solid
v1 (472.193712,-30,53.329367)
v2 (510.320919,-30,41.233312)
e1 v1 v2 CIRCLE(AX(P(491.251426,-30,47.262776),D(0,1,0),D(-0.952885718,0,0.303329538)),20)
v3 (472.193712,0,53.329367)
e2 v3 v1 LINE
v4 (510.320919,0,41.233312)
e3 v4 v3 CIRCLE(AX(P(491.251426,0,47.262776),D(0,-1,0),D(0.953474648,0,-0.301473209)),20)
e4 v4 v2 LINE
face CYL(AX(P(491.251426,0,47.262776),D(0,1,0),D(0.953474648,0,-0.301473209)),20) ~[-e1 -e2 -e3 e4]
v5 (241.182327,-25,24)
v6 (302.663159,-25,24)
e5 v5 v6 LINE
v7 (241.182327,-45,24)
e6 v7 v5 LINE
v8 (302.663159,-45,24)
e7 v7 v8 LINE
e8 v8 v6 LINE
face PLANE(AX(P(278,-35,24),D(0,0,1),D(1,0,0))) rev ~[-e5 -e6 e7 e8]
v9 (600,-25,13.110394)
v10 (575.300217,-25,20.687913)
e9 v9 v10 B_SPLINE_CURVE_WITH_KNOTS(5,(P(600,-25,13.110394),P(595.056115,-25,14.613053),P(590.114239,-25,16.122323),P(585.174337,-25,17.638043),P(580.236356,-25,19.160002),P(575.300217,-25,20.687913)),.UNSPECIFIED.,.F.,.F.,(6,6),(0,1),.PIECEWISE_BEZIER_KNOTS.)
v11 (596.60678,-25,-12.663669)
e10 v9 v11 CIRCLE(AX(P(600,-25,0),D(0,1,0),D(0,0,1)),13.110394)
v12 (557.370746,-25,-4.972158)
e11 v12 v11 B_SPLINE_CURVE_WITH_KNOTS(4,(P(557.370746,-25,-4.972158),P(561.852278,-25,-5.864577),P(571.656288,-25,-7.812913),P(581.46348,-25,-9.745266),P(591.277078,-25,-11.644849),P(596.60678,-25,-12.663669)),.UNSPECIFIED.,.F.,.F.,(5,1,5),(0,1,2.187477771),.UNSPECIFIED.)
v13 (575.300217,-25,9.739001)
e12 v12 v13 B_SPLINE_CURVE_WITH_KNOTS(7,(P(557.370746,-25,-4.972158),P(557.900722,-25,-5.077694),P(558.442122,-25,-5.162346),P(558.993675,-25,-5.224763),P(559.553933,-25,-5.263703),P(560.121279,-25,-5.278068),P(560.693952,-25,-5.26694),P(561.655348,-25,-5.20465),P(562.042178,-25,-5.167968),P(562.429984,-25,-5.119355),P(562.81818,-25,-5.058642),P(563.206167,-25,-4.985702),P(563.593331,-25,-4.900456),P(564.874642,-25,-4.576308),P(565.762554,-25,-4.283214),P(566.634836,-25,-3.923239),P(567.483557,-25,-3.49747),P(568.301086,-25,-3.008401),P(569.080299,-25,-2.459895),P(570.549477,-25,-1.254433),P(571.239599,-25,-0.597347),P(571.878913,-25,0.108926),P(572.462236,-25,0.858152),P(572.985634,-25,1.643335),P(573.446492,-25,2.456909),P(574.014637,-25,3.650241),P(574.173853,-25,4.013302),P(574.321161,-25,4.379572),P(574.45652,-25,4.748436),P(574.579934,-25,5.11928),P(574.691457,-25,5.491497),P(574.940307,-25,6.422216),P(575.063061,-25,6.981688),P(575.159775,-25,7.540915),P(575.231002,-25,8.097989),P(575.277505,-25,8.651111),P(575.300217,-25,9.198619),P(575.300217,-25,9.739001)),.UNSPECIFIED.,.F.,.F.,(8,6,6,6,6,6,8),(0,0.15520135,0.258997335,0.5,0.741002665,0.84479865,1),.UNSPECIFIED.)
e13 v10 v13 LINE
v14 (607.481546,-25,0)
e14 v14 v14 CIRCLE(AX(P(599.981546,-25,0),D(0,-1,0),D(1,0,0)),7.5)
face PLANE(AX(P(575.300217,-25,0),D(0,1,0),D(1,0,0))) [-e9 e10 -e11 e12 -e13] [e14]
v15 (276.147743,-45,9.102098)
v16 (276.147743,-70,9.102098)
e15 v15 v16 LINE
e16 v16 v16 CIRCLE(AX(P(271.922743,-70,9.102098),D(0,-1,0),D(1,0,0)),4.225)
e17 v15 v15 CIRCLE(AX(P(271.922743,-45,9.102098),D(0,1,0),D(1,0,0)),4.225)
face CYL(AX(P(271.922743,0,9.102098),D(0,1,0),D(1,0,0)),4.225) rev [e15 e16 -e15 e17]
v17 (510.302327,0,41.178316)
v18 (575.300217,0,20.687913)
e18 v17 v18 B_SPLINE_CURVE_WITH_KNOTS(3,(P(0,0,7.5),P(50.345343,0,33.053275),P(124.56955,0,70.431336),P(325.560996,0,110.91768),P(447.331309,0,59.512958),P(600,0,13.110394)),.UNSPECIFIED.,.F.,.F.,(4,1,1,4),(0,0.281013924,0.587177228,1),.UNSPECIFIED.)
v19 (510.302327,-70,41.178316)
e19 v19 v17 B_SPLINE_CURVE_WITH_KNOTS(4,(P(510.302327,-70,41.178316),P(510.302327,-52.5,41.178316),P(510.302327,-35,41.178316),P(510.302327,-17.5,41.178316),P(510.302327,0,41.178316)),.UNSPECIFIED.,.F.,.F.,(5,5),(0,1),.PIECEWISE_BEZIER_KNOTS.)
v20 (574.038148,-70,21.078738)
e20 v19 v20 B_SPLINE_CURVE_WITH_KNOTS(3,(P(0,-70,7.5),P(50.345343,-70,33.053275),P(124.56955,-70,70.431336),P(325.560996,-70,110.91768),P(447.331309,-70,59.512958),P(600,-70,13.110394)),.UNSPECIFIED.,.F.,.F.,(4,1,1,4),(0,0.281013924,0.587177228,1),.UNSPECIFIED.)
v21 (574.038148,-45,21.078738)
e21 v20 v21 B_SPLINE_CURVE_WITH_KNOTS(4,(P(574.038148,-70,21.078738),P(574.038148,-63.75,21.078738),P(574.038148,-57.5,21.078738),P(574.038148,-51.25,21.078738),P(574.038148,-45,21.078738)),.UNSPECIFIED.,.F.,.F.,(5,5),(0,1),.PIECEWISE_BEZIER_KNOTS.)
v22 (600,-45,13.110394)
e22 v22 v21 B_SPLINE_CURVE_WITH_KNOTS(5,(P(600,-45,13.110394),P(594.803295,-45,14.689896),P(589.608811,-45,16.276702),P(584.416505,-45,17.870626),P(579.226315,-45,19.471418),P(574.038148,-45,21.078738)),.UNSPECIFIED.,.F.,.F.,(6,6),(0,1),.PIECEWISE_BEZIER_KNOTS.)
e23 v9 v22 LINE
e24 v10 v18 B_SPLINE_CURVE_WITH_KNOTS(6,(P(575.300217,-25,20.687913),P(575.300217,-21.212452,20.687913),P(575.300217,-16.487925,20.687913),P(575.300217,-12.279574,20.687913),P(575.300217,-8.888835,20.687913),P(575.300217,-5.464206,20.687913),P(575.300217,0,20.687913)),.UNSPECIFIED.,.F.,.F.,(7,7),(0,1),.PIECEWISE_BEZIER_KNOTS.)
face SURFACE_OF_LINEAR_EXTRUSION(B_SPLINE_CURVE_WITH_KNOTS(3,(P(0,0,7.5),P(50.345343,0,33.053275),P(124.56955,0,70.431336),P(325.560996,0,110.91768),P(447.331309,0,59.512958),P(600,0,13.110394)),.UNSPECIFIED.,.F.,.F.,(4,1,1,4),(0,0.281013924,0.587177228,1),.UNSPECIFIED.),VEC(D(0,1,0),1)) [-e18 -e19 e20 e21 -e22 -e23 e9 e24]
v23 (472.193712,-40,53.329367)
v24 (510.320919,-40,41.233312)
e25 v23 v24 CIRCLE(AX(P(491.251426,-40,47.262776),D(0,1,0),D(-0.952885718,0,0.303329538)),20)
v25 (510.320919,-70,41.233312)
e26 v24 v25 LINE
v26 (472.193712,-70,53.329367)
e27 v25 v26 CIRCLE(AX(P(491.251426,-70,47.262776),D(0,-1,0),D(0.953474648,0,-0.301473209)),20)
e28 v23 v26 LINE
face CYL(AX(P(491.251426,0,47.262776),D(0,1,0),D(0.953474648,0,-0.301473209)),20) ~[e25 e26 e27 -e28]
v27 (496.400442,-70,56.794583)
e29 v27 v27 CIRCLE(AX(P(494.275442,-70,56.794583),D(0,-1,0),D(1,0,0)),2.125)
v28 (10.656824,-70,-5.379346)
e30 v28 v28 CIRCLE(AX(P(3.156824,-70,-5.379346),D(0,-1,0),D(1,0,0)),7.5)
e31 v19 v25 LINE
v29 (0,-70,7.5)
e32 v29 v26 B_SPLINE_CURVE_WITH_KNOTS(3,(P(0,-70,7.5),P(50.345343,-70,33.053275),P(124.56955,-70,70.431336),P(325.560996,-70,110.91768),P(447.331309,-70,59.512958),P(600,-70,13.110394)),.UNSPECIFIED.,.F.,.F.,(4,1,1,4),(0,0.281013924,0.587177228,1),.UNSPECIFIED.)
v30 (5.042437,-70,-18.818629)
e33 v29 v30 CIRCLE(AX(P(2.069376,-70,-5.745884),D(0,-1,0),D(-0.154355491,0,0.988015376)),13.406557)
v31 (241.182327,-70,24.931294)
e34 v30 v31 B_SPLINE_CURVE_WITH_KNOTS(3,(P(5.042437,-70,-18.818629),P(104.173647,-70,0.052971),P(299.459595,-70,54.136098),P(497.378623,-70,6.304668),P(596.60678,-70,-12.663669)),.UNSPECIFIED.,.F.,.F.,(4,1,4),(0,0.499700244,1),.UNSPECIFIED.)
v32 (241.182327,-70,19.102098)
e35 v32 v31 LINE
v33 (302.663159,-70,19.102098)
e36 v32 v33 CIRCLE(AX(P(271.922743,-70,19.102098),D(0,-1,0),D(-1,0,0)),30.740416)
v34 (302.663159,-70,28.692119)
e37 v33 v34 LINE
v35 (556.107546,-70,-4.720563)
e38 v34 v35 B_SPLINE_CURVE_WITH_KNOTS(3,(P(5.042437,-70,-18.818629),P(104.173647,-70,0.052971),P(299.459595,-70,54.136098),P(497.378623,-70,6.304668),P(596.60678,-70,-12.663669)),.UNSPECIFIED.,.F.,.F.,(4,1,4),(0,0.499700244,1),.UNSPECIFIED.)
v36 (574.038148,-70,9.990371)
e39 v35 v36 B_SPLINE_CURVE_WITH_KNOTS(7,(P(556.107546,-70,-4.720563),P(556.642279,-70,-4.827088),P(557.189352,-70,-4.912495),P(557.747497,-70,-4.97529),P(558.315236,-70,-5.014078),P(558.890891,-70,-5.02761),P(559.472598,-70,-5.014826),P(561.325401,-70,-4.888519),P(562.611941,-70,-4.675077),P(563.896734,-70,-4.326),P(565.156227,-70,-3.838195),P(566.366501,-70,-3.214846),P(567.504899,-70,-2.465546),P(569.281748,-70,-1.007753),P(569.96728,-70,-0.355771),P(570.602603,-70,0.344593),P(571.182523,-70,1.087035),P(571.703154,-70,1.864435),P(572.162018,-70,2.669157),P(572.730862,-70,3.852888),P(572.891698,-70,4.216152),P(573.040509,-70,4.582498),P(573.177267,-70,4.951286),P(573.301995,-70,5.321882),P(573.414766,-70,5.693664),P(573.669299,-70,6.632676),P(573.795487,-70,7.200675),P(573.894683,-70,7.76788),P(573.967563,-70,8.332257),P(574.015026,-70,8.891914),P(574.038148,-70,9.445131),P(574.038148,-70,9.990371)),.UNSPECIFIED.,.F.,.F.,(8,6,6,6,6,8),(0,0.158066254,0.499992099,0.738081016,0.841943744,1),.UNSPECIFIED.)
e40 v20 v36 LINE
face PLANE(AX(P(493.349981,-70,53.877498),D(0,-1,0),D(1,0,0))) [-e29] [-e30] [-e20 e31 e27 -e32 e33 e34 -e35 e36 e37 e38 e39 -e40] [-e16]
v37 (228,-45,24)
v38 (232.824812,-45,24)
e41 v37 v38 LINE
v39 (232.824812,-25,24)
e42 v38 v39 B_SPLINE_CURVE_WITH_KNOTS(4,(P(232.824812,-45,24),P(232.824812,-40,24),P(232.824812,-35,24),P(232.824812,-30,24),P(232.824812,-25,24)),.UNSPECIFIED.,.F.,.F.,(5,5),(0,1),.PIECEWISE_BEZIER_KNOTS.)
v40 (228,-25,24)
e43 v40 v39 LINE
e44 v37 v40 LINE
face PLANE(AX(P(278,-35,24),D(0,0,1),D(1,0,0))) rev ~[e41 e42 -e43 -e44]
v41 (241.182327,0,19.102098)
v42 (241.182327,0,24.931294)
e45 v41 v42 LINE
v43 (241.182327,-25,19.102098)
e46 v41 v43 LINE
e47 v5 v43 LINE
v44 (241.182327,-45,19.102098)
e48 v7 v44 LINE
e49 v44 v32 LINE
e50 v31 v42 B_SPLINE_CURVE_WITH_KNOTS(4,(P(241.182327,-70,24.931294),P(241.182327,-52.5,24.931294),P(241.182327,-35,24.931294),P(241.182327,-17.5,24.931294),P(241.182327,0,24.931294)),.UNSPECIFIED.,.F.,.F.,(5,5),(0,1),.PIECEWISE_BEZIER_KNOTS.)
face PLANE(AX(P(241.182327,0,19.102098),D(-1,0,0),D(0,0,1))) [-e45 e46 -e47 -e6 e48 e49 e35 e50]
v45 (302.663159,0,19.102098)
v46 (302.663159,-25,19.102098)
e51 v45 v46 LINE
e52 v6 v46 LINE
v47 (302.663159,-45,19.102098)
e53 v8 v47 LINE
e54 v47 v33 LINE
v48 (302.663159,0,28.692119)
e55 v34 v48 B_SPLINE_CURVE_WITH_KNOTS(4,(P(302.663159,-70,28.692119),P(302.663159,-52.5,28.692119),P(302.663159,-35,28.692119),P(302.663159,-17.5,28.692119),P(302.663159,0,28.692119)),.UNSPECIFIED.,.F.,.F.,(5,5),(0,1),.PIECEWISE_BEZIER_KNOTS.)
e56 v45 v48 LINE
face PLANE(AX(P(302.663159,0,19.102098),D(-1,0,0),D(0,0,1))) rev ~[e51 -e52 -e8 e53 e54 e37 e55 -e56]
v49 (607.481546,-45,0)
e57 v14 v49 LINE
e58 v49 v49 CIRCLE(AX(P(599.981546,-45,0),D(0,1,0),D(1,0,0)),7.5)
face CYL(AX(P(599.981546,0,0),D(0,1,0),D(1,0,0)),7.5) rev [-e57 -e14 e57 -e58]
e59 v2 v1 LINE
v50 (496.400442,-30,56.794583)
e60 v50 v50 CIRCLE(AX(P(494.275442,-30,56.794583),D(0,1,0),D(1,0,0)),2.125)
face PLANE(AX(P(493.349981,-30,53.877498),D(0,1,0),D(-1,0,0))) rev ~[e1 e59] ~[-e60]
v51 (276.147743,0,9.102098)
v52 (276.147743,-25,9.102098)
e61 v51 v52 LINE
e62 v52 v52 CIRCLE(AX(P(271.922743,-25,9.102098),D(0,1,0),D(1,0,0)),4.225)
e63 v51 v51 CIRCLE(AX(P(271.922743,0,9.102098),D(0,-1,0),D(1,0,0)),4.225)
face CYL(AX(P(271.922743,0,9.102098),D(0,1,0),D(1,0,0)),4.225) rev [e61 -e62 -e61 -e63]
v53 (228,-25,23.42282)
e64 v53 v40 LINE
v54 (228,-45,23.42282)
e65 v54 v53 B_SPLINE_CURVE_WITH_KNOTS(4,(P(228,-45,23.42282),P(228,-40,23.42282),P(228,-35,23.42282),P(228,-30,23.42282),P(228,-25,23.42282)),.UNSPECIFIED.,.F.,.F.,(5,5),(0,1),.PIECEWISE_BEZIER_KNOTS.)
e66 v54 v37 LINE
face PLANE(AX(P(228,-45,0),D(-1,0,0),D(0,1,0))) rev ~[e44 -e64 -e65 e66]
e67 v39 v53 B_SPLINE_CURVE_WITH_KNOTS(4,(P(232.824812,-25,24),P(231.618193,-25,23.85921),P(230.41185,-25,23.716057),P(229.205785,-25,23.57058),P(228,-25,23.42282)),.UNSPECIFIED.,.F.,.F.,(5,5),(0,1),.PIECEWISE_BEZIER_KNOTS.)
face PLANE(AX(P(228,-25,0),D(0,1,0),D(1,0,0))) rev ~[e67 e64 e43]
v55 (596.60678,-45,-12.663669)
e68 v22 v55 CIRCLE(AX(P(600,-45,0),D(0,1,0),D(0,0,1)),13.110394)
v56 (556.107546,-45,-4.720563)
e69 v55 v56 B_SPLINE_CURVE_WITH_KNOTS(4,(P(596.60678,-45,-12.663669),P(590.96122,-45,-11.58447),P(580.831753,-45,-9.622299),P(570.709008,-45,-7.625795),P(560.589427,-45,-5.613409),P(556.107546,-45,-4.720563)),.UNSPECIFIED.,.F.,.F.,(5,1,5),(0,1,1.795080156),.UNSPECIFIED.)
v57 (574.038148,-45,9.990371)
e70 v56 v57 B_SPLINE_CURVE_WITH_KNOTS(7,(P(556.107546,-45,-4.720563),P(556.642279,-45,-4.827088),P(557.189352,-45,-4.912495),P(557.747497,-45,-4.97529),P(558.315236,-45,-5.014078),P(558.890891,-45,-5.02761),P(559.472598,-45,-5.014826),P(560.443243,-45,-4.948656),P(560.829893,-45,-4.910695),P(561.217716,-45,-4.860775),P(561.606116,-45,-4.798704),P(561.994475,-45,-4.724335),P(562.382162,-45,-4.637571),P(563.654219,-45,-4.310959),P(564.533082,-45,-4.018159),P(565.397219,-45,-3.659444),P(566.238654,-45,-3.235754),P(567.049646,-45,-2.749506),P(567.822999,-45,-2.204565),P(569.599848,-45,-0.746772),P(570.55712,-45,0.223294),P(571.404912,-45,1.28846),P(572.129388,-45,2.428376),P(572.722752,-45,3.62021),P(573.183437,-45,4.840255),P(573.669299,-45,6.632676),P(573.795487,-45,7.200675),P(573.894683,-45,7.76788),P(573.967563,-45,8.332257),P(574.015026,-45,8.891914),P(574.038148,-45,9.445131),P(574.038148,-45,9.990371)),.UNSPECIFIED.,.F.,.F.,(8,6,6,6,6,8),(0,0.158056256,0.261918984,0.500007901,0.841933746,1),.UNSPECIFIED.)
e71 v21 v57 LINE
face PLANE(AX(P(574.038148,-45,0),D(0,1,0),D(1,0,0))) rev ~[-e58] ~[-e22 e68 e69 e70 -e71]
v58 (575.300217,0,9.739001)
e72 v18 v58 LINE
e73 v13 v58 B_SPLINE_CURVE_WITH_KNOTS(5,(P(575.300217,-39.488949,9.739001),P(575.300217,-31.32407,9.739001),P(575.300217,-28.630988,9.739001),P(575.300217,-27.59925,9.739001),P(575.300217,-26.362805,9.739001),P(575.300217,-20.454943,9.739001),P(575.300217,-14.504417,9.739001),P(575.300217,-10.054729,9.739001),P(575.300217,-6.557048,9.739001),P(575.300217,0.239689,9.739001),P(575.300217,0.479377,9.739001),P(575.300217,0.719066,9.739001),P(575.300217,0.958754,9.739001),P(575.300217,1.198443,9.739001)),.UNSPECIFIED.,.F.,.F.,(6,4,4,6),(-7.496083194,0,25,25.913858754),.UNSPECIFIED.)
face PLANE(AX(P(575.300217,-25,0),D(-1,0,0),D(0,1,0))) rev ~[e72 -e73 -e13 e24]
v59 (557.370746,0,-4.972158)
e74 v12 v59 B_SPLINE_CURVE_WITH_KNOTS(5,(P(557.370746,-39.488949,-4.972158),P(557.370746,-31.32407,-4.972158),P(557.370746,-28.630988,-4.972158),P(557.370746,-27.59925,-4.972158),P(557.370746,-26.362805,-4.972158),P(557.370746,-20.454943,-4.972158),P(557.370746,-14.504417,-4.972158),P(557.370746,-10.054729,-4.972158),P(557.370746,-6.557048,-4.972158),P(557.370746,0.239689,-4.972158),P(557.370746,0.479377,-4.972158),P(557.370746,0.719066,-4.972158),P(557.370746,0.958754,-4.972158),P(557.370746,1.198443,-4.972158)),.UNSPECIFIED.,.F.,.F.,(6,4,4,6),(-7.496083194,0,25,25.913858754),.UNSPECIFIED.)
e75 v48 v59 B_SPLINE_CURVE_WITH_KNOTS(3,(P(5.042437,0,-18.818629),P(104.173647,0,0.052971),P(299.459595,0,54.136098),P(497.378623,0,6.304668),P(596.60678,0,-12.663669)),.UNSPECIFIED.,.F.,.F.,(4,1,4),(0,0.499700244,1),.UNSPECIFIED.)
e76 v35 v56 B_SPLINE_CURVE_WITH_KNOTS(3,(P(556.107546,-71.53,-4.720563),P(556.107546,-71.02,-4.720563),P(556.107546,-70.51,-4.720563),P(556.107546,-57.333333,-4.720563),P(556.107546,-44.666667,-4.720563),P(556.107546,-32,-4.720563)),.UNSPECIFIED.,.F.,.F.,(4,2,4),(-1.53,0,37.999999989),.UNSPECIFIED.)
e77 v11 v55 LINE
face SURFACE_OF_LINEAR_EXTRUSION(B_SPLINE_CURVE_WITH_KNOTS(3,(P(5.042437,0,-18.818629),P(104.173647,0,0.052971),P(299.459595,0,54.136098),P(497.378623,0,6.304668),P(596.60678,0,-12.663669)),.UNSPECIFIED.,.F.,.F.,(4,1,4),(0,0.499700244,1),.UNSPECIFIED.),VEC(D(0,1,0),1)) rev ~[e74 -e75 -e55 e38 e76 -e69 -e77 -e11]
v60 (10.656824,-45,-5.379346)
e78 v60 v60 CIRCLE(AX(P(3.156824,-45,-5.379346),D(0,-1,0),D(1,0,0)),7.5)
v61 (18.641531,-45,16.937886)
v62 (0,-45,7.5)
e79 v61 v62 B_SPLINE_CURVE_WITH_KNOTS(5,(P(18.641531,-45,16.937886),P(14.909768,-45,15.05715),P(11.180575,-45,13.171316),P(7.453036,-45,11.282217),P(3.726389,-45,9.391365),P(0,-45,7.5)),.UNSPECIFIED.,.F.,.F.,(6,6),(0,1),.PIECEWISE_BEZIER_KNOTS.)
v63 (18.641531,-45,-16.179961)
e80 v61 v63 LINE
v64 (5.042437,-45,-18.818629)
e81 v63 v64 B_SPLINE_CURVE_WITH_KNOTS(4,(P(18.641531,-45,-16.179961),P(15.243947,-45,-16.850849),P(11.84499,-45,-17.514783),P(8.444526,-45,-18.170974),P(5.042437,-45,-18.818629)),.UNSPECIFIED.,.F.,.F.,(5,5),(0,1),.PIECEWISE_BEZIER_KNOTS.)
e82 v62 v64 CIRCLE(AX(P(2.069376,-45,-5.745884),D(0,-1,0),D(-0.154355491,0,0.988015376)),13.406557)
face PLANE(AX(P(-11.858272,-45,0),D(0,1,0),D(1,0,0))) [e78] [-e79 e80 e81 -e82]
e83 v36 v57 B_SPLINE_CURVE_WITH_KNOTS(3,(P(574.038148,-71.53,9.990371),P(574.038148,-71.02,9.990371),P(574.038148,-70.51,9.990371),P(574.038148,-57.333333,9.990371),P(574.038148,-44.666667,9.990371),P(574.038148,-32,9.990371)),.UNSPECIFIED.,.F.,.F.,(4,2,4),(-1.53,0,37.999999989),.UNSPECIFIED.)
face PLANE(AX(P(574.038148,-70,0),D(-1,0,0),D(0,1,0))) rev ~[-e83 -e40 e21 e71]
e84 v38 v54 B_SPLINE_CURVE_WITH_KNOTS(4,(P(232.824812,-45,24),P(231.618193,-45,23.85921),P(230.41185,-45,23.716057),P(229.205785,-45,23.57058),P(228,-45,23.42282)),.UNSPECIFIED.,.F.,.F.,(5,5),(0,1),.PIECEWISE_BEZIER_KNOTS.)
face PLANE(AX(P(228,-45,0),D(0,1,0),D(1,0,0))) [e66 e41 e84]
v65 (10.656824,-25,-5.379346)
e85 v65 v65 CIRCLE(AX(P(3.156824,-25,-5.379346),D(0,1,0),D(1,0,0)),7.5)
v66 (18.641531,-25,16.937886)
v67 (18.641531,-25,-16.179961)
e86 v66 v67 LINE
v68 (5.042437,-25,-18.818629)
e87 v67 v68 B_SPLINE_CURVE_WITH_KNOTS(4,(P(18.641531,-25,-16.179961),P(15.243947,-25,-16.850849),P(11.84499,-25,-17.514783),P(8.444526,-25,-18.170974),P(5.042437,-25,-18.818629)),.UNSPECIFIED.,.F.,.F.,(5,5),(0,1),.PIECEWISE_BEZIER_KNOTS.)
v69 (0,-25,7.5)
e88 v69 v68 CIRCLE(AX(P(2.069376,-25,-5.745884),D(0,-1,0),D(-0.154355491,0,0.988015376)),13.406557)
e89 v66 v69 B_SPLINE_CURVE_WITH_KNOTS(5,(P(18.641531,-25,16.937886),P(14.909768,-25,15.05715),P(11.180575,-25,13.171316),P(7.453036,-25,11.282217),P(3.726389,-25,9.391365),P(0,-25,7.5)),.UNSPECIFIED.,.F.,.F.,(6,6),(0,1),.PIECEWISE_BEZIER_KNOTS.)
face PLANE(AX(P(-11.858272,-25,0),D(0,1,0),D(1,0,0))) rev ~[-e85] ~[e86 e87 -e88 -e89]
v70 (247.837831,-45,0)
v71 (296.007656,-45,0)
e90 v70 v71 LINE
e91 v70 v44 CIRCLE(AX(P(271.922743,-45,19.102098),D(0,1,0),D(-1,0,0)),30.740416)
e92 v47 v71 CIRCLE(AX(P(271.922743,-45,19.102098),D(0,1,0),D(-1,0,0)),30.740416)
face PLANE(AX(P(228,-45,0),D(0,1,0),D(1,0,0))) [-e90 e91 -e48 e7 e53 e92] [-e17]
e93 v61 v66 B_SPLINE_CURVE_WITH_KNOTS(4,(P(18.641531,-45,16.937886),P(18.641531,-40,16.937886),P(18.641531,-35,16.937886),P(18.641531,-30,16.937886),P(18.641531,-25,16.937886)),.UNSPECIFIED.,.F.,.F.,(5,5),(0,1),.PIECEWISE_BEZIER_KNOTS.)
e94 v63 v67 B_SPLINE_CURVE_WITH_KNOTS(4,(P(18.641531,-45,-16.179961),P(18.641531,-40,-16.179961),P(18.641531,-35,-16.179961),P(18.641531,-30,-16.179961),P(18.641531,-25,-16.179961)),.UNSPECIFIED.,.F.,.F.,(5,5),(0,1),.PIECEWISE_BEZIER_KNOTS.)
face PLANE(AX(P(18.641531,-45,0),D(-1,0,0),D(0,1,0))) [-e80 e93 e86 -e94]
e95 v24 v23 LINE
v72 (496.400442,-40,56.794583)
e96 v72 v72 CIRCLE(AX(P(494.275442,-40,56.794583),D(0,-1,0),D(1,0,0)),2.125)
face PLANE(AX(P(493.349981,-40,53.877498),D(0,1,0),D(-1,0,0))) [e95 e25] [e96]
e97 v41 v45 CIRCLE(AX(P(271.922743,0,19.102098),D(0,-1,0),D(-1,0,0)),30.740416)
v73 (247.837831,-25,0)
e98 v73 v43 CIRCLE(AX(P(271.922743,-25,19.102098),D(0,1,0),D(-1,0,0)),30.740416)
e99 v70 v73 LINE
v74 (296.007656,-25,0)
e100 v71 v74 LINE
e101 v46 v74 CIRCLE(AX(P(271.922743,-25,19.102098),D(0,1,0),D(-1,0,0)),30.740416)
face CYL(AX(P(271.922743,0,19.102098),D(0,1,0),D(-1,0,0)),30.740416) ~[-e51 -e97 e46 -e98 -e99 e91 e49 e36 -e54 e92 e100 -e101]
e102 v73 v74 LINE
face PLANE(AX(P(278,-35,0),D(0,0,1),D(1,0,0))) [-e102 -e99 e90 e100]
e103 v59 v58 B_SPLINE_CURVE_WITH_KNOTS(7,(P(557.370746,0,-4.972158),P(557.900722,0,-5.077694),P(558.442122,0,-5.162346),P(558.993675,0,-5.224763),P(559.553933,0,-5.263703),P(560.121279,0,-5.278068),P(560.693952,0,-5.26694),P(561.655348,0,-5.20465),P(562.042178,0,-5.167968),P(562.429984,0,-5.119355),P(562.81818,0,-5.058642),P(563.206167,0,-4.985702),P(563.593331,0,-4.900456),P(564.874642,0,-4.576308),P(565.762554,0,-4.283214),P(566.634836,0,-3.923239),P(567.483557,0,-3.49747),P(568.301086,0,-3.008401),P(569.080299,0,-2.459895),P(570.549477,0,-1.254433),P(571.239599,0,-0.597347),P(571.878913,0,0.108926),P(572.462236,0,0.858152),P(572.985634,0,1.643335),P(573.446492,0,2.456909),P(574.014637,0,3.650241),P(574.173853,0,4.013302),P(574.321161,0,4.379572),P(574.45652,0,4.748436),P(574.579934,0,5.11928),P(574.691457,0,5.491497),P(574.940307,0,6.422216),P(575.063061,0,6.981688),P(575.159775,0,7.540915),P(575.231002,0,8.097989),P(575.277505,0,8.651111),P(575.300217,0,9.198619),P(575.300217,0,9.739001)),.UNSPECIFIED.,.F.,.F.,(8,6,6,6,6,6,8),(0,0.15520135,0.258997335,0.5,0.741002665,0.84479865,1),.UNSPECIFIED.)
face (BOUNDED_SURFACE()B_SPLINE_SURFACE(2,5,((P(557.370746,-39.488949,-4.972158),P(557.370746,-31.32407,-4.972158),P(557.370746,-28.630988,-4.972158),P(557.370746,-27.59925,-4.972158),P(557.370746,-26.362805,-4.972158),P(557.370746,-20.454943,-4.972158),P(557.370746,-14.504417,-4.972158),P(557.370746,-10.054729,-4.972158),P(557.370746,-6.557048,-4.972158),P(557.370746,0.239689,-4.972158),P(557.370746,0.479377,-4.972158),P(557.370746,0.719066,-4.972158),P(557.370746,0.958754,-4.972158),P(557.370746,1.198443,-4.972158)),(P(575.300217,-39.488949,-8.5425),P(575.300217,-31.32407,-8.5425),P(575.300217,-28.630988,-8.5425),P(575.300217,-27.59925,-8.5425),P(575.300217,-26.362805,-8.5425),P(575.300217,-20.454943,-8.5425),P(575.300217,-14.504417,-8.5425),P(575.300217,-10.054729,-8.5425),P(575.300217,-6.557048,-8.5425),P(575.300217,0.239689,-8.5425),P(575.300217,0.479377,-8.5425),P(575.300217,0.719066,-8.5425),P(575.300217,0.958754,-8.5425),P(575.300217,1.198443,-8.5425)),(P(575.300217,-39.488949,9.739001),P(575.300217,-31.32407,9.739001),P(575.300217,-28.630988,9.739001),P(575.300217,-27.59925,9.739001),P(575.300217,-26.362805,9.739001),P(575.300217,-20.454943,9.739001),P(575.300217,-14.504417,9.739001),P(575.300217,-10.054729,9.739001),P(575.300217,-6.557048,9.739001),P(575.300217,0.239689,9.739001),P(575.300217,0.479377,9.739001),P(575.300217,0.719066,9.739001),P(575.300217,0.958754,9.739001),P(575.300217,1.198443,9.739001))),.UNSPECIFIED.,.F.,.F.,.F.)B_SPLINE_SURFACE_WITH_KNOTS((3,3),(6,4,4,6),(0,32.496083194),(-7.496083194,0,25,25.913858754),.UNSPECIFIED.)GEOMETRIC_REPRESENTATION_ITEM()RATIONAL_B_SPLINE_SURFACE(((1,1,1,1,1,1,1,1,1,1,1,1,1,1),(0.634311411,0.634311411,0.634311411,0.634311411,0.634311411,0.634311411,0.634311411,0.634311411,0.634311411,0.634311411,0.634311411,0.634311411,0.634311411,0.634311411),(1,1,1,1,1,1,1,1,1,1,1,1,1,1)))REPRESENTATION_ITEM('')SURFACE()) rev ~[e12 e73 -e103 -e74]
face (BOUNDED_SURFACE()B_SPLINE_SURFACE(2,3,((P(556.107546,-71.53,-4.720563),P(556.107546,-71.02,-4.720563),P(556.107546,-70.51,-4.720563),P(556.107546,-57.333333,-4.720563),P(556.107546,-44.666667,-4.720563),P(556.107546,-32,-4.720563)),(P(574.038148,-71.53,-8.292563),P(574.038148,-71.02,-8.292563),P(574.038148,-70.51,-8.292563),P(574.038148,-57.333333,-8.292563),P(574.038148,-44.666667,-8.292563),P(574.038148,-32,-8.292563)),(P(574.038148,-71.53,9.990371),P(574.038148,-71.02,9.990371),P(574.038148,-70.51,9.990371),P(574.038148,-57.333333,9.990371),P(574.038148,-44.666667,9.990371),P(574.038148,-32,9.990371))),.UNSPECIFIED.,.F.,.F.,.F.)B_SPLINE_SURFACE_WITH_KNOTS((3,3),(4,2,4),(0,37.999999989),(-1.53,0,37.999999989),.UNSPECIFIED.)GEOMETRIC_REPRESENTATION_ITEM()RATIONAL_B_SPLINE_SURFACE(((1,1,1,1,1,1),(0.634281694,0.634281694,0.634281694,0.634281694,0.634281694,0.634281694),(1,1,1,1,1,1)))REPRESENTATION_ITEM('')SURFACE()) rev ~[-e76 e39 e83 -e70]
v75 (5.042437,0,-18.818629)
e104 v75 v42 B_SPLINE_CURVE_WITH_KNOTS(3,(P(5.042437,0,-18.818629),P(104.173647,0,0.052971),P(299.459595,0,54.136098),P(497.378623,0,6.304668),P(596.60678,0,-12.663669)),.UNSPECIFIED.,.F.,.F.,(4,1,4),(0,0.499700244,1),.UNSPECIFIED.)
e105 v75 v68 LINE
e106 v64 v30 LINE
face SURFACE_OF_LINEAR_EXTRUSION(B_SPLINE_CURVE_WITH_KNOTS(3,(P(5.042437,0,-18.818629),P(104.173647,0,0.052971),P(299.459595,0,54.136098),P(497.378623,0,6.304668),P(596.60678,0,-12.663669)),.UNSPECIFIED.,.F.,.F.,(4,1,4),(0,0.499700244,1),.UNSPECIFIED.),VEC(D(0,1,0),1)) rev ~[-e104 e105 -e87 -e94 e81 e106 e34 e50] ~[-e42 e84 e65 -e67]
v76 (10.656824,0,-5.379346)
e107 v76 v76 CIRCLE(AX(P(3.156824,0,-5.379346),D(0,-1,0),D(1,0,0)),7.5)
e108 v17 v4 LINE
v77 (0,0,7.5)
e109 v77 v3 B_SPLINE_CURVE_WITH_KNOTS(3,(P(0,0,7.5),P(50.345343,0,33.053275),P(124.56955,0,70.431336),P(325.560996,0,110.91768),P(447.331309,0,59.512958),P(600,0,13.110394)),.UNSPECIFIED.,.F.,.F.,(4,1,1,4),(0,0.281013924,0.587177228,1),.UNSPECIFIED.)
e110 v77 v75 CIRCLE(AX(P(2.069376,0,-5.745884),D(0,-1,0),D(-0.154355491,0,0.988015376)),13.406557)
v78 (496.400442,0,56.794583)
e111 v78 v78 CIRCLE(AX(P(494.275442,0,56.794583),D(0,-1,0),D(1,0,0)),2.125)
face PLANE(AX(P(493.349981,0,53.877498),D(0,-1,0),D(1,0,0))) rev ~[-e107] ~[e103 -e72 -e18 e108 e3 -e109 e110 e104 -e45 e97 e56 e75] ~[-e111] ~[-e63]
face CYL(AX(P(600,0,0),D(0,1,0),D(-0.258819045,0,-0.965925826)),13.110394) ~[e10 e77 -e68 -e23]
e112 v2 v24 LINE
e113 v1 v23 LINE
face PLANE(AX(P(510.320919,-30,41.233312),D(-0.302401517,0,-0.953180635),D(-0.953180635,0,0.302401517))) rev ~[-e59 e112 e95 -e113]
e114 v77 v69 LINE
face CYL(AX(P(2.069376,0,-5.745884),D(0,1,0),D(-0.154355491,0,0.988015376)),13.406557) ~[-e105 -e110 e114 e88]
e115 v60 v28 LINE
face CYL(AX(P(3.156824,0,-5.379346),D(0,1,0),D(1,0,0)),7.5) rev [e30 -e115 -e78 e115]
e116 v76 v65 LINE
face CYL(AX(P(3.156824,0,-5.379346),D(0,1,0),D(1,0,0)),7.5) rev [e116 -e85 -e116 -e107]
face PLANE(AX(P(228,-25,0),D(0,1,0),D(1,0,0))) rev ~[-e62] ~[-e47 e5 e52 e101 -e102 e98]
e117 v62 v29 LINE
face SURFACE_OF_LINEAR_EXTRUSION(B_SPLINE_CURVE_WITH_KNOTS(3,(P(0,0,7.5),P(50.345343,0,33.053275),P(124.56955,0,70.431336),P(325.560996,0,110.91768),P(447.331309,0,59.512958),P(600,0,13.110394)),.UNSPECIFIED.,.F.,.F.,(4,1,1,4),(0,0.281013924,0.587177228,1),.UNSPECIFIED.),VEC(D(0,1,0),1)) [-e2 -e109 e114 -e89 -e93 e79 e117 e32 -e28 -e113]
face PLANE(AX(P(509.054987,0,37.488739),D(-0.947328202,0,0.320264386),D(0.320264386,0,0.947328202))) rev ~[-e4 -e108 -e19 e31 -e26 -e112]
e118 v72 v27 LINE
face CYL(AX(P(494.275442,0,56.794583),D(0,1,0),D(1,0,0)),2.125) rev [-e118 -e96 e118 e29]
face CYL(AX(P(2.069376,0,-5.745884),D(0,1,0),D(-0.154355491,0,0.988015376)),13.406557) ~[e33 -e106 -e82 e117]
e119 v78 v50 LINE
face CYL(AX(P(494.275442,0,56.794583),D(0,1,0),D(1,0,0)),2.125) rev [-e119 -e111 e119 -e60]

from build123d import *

# Parameters (mm, degrees)
F1_DEPTH      = 70
F2_R          = 7.5
F3_DEPTH      = 70
F4_W          = 38.3359060888
F4_H          = 25
F4_W_2        = 39.5979748373
F4_W_3        = 30.4998038337
F4_H_2        = 20
F5_DEPTH      = 25
F5_DEPTH_BACK = 25
F6_R          = 15
F7_W          = 61.4808317696
F7_H          = 11.3357962312
F7_R          = 4.225
F8_DEPTH      = 70
F9_W          = 100
F9_H          = 20
F10_DEPTH     = 24
F11_R         = 2.125
F12_DEPTH     = 70
F14_R         = 2.125
F15_DEPTH     = 10


with BuildPart() as f1:
    # F0 (on Front) → F1 (new body)
    with BuildSketch(Plane.XZ):
        with BuildLine():
            add(Edge.make_bspline(
                [(0, 7.5), (50.3453426063, 33.0532751977), (124.5695498707, 70.4313359242), (325.5609958993, 110.9176804755), (447.3313093185, 59.5129579306), (600, 13.1103944731)],
                knots=[0, 0, 0, 0, 0.281013924, 0.5871772284, 1, 1, 1, 1], degree=3))
            ThreePointArc((0, 7.5), (-11.0976940951, -8.2685881847), (5.0424365564, -18.8186294225))
            add(Edge.make_bspline(
                [(5.0424365564, -18.8186294225), (104.1736466206, 0.0529713977), (299.4595954862, 54.136097737), (497.3786234374, 6.3046680419), (596.6067802216, -12.6636686144)],
                knots=[0, 0, 0, 0, 0.4997002441, 1, 1, 1, 1], degree=3))
            ThreePointArc((596.6067802216, -12.6636686144), (612.9982332309, -1.7112498691), (600, 13.1103944731))
        make_face()
    extrude(amount=F1_DEPTH)

    # F2 (on Front) → F3 (cut)
    with BuildSketch(Plane.XZ):
        with Locations((3.1568240374, -5.3793457337)):
            Circle(F2_R)
        with Locations((599.981546402, 0)):
            Circle(F2_R)
    extrude(amount=F3_DEPTH, mode=Mode.SUBTRACT)

    # F4 (on Top) → F5 (cut, two sides)
    with BuildSketch(Plane.XY) as f5_sk:
        with Locations((594.4681697192, -12.5)):
            Rectangle(F4_W, F4_H)
        with Locations((593.837135345, -57.5)):
            Rectangle(F4_W_2, F4_H)
        with Locations((3.3916295506, -35)):
            Rectangle(F4_W_3, F4_H_2)
    extrude(amount=-F5_DEPTH, mode=Mode.SUBTRACT)
    extrude(f5_sk.sketch, amount=F5_DEPTH_BACK, mode=Mode.SUBTRACT)

    # F6
    f6_edges = [f1.edges().sort_by_distance(p)[0] for p in [
        (574.038148, -57.5, -8.276448),
        (575.300217, -12.5, -8.524983),
    ]]
    fillet(f6_edges, radius=F6_R)

    # F7 (on Front) → F8 (join)
    with BuildSketch(Plane.XZ):
        with Locations((271.9227431553, 24.7699965359)):
            Rectangle(F7_W, F7_H)
        with BuildLine():
            Line((302.6631590401, 19.1020984203), (241.1823272705, 19.1020984203))
            ThreePointArc((241.1823272705, 19.1020984203), (271.9227431553, -11.6383174646), (302.6631590401, 19.1020984203))
        make_face()
        with Locations((271.9227431553, 9.1020984203)):
            Circle(F7_R, mode=Mode.SUBTRACT)
    extrude(amount=F8_DEPTH)

    # F9 (on Top) → F10 (cut)
    with BuildSketch(Plane.XY):
        with Locations((278, -35)):
            Rectangle(F9_W, F9_H)
    extrude(amount=F10_DEPTH, mode=Mode.SUBTRACT)

    # F11 (on Front) → F12 (join)
    with BuildSketch(Plane.XZ):
        with BuildLine():
            Line((472.1937120855, 53.3293670855), (510.3209194065, 41.2333121589))
            ThreePointArc((510.3209194065, 41.2333121589), (497.2994567763, 66.3263890307), (472.1937120855, 53.3293670855))
        make_face()
        with Locations((494.275441611, 56.7945826814)):
            Circle(F11_R, mode=Mode.SUBTRACT)
        Polygon((509.0549868975, 37.4887385523), (510.3209194065, 41.2333121589), (472.1937120855, 53.3293670855), (471.0067243804, 49.6005392228), align=None)
    extrude(amount=F12_DEPTH)

    # F14 (on offset) → F15 (cut)
    with BuildSketch(Plane(origin=(0, -30, 0), x_dir=(-1, 0, 0), z_dir=(0, 1, 0))):
        with BuildLine():
            ThreePointArc((-472.1937120855, 53.3293670855), (-497.2994567763, 66.3263890307), (-510.3209194065, 41.2333121589))
            Line((-510.3209194065, 41.2333121589), (-472.1937120855, 53.3293670855))
        make_face()
        with Locations((-494.275441611, 56.7945826814)):
            Circle(F14_R, mode=Mode.SUBTRACT)
    extrude(amount=-F15_DEPTH, mode=Mode.SUBTRACT)


solid = f1.part
